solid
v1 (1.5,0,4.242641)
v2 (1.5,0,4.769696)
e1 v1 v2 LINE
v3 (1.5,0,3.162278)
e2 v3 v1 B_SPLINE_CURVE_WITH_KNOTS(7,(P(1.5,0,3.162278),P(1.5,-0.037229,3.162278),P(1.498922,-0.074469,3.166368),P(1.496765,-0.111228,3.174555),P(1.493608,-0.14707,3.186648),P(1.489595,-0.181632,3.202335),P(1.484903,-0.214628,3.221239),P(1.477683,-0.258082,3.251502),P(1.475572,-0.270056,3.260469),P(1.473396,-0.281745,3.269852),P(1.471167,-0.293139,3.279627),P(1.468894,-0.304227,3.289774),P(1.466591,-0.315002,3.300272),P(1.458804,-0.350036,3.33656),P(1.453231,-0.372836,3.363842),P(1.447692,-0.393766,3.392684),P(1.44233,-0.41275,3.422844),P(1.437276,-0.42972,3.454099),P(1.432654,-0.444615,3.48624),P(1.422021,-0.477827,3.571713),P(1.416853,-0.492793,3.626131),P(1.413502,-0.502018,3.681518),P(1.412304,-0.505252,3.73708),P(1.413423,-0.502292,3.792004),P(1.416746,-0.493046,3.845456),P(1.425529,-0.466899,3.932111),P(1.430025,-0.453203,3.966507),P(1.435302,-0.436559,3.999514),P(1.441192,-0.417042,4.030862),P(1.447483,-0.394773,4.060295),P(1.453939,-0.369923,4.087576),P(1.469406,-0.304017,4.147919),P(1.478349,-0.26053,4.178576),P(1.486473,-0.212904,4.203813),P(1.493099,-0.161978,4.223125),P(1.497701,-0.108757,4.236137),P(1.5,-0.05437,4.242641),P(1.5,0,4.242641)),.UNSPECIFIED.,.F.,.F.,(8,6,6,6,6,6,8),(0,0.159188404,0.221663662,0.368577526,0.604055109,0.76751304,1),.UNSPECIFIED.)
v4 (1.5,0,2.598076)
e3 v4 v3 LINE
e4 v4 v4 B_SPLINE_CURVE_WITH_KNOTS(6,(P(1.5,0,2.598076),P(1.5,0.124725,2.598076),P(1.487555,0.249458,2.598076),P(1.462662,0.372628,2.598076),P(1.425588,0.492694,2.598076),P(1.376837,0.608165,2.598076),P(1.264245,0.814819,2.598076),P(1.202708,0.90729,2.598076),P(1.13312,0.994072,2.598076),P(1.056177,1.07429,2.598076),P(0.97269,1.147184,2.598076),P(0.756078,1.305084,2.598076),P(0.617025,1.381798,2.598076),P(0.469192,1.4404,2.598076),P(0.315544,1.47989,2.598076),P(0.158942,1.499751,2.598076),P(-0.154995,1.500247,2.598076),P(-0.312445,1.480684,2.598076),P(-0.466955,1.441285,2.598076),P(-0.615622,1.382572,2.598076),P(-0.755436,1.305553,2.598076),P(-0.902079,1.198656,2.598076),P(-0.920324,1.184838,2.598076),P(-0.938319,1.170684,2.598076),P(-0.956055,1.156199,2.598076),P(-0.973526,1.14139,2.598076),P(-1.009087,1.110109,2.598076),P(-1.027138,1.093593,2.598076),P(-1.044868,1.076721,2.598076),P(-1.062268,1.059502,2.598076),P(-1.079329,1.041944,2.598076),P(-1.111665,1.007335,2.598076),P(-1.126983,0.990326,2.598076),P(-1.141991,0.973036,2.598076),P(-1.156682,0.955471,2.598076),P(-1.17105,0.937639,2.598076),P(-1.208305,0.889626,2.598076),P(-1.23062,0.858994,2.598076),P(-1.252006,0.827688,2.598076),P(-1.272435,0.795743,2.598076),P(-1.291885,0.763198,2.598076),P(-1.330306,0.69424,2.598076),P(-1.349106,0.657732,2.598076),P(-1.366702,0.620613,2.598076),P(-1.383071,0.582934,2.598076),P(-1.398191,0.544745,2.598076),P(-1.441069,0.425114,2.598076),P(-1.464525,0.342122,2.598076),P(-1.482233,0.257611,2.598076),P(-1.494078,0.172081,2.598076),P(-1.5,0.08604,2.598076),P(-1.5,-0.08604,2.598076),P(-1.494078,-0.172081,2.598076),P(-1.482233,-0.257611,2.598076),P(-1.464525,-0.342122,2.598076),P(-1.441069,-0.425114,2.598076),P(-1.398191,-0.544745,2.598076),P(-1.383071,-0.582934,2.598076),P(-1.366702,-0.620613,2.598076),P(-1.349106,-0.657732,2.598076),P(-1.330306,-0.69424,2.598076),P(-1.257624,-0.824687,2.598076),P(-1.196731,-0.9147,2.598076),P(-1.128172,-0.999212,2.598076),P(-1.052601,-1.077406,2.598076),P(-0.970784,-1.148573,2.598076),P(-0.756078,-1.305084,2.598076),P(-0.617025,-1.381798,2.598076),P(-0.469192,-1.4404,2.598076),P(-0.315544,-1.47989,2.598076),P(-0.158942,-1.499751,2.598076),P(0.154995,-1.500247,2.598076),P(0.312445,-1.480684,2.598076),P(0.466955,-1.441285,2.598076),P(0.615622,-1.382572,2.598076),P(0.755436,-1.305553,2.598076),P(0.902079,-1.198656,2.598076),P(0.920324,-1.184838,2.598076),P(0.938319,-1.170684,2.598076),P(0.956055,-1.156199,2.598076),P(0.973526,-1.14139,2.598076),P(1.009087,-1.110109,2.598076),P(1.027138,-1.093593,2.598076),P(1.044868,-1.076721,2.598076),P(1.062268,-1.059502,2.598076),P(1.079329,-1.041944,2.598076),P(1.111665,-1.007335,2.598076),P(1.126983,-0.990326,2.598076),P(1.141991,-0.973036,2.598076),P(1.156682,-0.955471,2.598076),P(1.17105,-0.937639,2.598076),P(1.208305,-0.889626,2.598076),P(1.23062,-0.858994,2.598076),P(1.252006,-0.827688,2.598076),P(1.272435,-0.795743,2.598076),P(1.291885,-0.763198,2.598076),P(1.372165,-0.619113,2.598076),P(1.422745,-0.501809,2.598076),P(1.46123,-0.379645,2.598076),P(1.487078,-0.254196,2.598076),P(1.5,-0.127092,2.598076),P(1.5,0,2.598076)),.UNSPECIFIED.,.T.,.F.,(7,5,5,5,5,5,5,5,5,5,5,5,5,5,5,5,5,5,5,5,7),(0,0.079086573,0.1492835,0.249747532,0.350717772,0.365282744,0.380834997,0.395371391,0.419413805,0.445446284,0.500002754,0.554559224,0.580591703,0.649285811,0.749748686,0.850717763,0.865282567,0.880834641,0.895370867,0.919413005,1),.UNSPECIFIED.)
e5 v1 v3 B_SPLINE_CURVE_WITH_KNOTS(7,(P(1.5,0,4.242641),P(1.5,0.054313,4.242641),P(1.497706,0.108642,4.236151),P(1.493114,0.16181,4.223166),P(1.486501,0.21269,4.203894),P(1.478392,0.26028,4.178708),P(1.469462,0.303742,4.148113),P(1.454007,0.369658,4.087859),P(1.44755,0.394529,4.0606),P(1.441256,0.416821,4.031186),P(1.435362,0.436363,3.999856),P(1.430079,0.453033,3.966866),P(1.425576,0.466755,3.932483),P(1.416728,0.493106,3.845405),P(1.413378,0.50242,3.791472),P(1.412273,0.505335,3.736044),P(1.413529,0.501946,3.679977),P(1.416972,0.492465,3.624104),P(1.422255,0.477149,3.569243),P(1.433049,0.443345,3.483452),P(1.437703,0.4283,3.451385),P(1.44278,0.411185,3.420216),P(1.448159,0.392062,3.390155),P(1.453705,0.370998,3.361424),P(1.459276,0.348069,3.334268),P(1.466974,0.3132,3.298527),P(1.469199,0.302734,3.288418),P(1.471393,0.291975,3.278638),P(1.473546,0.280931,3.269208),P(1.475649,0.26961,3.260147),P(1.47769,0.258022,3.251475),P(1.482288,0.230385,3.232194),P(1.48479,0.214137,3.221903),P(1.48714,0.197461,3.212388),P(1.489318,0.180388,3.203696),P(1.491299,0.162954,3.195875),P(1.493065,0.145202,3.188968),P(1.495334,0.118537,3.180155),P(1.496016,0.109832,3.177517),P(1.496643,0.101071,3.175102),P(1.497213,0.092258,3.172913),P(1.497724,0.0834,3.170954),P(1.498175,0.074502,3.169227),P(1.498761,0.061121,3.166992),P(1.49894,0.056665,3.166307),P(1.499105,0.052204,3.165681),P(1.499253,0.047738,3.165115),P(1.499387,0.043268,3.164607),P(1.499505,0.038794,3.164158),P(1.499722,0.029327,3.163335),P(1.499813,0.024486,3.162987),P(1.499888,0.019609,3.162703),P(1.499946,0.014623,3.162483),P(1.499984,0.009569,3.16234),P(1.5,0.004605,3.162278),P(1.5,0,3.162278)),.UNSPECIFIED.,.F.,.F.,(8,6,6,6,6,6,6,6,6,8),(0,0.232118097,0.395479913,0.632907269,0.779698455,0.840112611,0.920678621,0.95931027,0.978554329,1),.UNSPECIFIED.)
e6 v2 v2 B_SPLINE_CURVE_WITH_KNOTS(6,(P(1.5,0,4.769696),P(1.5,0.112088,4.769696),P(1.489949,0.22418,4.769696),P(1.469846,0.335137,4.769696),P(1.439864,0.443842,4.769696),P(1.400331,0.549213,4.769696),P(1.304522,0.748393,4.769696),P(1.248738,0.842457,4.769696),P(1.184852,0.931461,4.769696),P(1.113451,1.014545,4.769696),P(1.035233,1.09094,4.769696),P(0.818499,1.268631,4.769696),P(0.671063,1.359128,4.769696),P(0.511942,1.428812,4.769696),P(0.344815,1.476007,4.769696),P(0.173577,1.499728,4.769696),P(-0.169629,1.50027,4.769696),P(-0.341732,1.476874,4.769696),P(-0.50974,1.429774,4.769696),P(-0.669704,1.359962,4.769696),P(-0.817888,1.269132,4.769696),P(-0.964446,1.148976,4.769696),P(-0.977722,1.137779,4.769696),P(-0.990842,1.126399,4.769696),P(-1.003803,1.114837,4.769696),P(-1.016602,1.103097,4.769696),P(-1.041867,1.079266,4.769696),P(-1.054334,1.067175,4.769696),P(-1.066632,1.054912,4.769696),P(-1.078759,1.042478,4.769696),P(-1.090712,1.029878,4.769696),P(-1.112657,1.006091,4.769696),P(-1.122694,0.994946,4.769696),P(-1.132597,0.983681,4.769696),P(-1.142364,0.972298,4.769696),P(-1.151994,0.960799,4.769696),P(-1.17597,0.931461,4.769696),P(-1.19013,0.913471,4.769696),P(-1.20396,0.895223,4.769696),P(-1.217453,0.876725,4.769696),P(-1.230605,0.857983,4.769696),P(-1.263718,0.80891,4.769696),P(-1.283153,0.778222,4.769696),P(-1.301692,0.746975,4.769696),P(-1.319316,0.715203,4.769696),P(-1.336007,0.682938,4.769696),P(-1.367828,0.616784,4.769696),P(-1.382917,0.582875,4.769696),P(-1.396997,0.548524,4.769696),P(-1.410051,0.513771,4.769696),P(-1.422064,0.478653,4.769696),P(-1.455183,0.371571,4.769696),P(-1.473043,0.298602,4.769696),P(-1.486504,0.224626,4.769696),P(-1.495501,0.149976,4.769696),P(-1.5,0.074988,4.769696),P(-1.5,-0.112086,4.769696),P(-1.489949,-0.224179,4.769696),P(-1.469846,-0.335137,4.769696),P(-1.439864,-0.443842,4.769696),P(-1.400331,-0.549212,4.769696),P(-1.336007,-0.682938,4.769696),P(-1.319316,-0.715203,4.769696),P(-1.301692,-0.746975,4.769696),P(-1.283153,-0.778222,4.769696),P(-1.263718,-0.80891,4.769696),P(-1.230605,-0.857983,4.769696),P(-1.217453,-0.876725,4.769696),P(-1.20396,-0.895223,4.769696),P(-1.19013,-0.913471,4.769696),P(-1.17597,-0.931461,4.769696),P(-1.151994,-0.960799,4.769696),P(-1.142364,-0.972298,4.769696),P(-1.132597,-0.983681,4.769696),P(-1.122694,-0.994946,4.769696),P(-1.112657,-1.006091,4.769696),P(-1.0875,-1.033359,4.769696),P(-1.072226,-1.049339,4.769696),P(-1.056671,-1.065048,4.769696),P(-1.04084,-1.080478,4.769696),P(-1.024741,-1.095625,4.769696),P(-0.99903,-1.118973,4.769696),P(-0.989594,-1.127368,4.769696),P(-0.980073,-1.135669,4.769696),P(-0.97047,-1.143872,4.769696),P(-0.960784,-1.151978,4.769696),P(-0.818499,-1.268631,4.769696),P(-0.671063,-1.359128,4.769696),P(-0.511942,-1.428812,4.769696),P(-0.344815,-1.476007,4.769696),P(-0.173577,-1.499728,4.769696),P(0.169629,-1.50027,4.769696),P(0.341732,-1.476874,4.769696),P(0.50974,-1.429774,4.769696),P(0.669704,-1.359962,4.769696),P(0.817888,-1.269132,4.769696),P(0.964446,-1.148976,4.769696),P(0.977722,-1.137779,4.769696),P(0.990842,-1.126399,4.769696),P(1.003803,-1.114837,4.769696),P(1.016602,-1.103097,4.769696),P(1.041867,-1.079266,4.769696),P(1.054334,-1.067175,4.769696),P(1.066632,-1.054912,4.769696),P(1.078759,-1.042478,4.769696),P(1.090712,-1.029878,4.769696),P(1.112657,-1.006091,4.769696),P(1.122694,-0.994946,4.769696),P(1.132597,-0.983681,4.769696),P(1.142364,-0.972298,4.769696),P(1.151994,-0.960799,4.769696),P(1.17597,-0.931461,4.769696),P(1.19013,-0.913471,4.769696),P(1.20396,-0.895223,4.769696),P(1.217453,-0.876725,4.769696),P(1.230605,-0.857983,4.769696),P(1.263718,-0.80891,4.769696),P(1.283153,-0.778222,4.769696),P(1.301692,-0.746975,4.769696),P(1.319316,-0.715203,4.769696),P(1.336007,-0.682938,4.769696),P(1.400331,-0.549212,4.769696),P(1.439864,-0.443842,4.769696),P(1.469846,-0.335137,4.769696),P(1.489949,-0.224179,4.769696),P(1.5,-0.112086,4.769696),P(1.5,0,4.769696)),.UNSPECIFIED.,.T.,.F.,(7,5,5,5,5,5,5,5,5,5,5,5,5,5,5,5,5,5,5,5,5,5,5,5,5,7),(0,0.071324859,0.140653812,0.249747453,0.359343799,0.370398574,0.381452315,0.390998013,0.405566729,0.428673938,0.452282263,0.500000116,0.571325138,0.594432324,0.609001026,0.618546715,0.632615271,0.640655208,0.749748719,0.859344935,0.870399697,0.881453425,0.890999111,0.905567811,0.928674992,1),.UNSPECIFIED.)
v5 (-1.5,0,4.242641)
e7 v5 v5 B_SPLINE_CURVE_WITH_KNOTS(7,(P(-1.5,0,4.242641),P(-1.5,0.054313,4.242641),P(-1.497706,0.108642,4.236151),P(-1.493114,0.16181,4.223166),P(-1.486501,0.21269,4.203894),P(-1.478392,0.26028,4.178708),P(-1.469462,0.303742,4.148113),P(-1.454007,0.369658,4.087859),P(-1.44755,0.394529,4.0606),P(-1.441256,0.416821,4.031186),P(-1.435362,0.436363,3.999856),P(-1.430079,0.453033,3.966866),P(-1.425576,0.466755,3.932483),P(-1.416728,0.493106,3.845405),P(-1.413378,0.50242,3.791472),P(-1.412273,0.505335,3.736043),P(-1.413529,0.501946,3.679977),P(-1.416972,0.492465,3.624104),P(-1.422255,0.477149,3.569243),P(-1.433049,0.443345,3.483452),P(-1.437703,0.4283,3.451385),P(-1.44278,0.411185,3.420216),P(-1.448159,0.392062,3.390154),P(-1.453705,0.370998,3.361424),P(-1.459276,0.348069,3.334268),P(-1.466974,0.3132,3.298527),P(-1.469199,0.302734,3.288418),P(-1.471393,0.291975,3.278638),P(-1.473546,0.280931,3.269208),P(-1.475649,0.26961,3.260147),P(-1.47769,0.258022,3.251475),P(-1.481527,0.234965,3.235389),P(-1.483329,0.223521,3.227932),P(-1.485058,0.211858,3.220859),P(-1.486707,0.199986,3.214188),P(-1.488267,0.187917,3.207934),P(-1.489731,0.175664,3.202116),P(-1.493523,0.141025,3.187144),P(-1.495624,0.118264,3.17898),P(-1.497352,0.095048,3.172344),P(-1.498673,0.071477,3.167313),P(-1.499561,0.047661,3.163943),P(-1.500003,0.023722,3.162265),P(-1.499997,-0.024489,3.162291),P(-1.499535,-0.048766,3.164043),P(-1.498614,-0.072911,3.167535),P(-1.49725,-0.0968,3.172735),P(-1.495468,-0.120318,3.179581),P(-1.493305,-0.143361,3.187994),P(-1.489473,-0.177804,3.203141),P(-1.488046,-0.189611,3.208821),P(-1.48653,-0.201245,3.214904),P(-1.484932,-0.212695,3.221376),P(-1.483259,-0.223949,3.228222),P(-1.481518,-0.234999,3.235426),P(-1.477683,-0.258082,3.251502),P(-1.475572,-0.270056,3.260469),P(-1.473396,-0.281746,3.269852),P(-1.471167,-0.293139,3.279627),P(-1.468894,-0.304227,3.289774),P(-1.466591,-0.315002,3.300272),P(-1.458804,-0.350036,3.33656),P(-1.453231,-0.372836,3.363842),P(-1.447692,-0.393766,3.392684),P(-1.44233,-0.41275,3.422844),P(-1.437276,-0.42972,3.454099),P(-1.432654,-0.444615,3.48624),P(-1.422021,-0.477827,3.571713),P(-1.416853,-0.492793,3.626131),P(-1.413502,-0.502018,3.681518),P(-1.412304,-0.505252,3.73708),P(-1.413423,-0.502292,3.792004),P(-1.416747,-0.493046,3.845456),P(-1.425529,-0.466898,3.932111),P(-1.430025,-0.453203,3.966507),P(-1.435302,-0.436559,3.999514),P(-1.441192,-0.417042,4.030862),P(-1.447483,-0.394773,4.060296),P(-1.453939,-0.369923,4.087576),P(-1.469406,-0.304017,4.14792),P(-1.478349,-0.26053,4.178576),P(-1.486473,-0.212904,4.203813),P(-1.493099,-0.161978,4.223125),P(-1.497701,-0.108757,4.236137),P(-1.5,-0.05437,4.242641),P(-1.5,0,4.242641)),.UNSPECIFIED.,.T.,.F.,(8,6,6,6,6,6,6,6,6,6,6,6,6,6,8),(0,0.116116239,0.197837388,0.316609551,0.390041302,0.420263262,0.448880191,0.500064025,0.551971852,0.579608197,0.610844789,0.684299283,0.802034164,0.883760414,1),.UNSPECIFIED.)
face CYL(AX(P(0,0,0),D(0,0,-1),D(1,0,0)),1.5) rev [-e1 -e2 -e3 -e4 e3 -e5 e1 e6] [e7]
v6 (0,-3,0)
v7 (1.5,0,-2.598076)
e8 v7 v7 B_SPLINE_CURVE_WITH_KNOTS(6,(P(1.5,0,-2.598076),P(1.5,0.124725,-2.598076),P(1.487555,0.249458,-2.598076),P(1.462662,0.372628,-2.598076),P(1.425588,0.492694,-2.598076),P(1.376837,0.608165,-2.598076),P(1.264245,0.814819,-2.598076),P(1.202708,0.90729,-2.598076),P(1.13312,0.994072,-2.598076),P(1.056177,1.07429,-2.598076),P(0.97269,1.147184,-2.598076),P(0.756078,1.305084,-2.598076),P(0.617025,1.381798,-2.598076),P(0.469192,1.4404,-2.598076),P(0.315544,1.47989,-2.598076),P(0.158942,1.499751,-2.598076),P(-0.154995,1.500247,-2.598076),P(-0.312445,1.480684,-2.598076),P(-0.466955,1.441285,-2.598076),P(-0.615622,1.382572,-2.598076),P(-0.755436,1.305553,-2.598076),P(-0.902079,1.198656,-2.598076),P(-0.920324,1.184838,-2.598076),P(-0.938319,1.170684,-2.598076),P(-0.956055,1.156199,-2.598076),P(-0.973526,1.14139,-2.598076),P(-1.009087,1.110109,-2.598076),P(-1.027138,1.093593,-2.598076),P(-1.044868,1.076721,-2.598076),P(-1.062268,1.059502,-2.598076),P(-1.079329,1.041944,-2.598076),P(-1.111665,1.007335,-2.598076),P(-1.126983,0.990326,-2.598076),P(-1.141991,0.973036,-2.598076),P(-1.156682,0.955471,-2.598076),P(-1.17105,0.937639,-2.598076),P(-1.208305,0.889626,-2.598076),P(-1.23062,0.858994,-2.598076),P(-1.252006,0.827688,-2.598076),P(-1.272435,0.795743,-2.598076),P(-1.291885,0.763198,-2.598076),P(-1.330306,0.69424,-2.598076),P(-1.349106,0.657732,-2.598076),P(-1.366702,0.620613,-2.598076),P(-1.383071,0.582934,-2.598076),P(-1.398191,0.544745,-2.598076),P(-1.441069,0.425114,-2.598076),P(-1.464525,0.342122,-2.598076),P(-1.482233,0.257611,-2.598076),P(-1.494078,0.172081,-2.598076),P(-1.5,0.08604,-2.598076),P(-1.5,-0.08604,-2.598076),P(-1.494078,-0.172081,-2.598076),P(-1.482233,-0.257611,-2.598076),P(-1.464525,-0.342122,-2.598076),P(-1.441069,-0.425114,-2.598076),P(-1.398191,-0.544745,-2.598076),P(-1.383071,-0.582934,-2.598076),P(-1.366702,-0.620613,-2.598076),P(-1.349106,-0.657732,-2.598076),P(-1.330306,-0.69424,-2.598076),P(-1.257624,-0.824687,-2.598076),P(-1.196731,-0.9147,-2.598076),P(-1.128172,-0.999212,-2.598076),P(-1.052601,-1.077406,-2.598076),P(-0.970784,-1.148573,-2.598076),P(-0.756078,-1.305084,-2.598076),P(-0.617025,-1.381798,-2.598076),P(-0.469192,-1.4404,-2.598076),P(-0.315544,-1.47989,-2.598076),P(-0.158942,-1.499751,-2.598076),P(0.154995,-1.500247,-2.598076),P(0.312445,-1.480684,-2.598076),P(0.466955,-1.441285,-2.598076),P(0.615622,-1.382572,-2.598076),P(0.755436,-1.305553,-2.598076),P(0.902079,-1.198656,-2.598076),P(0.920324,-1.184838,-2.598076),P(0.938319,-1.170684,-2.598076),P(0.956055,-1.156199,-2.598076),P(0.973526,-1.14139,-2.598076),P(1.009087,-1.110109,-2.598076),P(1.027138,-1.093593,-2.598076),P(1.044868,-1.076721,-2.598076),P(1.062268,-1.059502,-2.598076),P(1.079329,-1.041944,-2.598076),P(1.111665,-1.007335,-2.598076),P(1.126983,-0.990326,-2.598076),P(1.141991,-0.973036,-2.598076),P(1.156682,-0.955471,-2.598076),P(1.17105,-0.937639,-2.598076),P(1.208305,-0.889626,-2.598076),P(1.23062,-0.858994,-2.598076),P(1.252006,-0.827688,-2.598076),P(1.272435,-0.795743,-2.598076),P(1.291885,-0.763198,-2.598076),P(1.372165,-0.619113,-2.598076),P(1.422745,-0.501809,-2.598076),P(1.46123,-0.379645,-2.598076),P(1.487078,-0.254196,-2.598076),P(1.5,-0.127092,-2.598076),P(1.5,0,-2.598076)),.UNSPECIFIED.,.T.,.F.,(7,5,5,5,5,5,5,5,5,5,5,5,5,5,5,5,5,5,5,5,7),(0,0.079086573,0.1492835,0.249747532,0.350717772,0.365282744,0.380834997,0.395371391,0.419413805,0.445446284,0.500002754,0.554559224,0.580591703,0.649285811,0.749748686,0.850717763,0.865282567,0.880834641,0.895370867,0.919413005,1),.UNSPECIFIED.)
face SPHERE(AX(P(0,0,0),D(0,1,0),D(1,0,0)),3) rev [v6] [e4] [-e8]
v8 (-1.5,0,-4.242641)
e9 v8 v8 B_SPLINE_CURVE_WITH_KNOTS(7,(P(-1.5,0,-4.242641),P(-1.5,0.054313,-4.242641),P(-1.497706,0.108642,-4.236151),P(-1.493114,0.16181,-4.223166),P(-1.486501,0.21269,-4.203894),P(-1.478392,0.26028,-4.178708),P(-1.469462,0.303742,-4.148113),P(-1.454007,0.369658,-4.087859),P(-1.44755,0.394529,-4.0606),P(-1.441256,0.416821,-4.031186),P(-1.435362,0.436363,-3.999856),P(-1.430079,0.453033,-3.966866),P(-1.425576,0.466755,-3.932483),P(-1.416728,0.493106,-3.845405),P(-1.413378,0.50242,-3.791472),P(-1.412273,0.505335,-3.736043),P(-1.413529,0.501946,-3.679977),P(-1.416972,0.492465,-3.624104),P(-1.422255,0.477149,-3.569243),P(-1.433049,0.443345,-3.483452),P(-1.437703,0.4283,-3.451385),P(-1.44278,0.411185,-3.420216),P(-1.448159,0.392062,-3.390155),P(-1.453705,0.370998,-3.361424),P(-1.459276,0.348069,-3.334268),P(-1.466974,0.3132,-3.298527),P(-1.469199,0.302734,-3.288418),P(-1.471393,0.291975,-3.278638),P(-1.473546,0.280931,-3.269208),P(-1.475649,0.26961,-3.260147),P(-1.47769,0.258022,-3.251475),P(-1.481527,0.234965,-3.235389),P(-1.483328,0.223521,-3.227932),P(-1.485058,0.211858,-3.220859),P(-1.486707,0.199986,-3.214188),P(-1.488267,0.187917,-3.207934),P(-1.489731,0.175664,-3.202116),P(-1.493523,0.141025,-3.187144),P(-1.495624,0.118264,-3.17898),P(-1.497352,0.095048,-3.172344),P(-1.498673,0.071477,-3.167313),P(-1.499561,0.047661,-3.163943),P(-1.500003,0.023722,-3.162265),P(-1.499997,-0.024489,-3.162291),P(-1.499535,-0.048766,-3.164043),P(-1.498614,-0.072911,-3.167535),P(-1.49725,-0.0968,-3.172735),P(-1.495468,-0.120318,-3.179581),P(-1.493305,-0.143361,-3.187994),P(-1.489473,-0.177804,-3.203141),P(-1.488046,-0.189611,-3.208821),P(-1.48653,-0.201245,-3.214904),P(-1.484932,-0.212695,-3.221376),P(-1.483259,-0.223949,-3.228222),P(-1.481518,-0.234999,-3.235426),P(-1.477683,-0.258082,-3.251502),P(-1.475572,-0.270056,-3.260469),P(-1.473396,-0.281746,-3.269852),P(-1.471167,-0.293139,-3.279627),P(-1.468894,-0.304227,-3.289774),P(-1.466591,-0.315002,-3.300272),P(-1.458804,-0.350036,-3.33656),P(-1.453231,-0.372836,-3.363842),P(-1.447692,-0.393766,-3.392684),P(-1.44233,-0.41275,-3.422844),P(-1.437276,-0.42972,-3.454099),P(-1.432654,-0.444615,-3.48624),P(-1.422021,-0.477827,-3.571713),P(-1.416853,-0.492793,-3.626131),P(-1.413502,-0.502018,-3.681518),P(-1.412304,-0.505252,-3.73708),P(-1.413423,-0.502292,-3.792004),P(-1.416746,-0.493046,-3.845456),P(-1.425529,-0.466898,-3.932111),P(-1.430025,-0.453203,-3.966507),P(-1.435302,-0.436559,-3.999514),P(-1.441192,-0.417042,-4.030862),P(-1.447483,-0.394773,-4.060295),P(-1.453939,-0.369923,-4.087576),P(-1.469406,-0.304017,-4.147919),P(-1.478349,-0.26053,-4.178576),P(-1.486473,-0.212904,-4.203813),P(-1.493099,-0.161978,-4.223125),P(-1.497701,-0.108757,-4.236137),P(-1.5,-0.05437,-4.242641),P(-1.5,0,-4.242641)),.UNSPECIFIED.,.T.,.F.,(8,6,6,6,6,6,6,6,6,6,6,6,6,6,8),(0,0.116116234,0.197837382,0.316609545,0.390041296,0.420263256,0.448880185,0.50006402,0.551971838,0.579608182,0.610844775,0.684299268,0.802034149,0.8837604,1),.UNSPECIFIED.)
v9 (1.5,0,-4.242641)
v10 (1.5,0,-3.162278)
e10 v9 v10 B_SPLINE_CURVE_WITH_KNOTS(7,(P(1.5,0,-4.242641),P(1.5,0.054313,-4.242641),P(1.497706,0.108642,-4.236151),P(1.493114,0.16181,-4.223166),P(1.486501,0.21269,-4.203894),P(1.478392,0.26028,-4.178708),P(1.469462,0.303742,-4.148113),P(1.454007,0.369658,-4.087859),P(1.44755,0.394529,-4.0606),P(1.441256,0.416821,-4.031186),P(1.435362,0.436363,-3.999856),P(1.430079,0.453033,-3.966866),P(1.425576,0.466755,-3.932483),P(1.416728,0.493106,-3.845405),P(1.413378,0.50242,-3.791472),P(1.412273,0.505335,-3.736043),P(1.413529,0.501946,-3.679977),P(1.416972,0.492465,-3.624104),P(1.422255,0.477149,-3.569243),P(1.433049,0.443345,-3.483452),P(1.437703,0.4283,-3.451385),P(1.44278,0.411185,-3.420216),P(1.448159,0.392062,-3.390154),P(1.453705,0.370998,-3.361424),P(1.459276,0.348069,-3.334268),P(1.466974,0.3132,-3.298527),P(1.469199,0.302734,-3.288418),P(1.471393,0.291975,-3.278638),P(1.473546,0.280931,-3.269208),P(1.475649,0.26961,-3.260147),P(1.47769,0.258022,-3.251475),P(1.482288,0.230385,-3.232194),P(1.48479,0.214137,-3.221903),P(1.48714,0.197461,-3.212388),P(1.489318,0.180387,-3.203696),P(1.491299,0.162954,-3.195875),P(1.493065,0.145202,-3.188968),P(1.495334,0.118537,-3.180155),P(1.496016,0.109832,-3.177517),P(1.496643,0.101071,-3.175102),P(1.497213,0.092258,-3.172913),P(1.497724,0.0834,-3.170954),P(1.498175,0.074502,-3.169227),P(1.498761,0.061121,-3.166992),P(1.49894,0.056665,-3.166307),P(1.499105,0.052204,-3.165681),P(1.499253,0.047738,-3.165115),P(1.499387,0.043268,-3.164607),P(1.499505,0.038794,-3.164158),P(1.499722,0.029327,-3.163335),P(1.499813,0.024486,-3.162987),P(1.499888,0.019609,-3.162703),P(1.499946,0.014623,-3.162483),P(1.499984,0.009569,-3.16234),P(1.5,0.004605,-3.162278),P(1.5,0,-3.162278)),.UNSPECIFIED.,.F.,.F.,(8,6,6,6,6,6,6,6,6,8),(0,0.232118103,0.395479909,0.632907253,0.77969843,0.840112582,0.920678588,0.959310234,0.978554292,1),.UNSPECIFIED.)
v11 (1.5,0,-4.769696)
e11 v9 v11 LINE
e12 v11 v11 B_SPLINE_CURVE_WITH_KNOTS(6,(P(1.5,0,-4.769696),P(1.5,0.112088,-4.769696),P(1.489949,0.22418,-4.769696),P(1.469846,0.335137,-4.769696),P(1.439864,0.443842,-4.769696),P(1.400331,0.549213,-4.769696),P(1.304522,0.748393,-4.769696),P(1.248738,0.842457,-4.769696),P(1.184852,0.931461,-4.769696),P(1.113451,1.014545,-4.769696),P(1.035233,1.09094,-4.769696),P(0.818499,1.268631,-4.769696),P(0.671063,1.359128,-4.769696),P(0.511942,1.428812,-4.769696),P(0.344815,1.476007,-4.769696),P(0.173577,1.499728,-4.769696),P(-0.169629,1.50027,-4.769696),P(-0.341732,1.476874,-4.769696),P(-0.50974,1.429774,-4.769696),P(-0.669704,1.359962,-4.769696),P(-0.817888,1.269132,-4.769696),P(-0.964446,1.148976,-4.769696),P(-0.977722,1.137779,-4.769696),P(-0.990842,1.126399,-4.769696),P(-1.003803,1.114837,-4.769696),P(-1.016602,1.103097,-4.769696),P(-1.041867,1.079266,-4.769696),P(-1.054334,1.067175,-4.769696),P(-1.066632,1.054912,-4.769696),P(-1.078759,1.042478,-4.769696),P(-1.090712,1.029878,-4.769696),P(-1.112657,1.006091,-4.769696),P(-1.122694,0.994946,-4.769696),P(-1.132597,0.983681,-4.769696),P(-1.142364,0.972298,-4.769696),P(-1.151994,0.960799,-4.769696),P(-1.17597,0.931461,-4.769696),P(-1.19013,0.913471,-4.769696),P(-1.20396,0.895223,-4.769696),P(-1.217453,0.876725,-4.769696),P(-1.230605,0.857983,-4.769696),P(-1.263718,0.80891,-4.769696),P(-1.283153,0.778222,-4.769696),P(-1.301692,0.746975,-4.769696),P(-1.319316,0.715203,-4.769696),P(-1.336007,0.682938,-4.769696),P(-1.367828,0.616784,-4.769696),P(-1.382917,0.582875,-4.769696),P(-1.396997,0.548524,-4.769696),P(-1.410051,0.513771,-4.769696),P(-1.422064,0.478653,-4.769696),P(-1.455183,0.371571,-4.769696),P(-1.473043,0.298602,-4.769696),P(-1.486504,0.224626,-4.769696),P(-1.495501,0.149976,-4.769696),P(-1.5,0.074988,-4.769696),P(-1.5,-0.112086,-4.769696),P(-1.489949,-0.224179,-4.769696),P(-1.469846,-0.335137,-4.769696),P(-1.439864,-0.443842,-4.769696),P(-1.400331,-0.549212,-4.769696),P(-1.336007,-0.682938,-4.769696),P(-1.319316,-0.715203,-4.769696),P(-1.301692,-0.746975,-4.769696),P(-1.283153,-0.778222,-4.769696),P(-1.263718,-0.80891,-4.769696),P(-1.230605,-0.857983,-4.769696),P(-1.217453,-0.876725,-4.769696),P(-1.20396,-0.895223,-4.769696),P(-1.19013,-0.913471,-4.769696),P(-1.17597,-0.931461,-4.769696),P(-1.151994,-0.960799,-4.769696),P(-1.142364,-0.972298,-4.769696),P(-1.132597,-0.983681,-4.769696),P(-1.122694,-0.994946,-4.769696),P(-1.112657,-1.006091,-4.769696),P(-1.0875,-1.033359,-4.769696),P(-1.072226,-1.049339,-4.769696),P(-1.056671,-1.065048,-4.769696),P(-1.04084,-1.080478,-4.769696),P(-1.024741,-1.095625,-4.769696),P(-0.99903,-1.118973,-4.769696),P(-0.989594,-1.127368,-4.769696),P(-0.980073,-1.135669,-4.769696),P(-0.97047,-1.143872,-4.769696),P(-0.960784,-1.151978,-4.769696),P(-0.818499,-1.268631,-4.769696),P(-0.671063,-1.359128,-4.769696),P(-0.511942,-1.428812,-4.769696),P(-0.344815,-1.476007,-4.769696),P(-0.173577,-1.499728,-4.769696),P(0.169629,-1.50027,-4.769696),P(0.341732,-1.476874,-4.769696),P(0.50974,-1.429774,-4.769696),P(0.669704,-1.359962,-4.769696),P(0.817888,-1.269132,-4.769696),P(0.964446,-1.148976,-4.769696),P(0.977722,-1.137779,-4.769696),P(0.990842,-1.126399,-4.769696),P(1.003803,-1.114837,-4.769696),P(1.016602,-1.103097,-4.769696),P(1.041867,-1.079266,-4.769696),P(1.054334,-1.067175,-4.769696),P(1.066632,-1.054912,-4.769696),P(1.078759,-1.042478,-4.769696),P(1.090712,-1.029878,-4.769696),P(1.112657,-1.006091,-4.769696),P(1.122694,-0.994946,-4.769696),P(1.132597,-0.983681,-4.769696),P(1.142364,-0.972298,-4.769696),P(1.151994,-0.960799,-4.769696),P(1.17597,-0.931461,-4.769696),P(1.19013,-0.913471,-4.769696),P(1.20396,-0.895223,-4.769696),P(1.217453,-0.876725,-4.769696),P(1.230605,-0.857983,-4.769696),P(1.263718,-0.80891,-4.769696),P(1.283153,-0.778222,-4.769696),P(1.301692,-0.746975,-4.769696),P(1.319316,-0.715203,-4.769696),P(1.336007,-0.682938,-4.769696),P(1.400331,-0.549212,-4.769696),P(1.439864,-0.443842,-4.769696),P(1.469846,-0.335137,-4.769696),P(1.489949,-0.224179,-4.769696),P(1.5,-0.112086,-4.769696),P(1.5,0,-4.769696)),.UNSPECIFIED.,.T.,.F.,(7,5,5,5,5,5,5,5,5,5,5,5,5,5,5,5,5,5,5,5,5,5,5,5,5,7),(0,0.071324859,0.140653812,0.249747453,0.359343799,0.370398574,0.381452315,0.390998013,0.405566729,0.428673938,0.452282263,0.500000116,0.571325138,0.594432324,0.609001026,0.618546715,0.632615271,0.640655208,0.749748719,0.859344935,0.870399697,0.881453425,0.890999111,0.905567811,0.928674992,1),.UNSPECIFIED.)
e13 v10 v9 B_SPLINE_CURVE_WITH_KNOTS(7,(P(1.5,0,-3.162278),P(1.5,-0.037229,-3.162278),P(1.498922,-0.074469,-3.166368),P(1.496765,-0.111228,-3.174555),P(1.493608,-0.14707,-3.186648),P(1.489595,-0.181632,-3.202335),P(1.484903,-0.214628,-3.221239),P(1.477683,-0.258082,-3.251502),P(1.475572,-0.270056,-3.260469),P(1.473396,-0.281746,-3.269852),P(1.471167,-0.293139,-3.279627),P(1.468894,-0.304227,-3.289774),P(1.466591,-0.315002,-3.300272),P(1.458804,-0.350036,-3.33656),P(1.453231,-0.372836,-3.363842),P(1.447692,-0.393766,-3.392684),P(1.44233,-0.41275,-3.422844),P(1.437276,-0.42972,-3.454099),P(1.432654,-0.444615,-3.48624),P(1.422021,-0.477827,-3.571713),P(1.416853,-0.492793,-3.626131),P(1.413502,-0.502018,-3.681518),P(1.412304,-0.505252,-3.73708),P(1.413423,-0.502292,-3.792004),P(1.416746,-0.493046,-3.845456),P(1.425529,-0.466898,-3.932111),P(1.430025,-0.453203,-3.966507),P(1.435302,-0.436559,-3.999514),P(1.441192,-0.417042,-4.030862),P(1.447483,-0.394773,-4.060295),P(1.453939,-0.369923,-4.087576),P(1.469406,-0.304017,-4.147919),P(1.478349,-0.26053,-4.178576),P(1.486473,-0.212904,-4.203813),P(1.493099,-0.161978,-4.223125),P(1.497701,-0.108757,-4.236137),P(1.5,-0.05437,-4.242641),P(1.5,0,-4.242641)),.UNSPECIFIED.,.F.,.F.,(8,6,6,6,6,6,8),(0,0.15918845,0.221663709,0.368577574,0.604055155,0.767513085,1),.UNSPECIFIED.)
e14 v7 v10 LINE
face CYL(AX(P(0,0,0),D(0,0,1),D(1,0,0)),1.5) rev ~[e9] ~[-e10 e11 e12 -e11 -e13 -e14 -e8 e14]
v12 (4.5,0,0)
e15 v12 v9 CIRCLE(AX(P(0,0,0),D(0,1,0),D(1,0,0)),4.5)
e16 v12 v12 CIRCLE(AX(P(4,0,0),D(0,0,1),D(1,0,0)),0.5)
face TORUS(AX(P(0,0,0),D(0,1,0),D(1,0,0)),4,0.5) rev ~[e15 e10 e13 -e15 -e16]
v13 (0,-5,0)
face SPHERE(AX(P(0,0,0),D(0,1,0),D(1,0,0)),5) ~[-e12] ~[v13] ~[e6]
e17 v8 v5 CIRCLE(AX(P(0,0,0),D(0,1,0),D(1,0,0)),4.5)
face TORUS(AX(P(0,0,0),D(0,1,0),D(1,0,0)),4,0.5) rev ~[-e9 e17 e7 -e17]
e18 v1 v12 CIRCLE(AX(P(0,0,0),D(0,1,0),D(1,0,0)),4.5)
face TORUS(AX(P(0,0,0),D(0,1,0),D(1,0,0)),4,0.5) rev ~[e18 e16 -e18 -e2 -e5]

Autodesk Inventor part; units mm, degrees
ref_plane "YZ Plane" through (0, 0, 0) normal (1, 0, 0) x (0, 1, 0)
ref_plane "XZ Plane" through (0, 0, 0) normal (0, 1, 0) x (-1, 0, 0)
ref_plane "XY Plane" through (0, 0, 0) normal (0, 0, 1) x (1, 0, 0)
sketch "Esboço1" plane through (0, 0, 0) normal (0, 0, 1) x (1, 0, 0)
  circle A0 centre (0, 0) radius 5 construction
  arc A1 (0, -5) -> (0, 5) centre (0, 0) ccw
  arc A2 (0, -3) -> (0, 3) centre (0, 0) ccw
  line L0 (0, 5) -> (0, -5)
  point P0 (3, 0)
  point P1 (5, 0)
  point P2 (0, 3)
  dimension "d0" = 10
  dimension "d2" = 3
revolve "Revolução1" add sketch "Esboço1" angle 360 about axis through (0, 5, 0) along (0, -1, 0) contours L0 A2 A1
sketch "Esboço2" plane through (0, 0, 0) normal (0, 0, 1) x (1, 0, 0)
  circle A0 centre (4, 0) radius 0.5
  line L0 (0, 5) -> (0, -5)
  point P0 (0, 0)
  point P1 (0, 0)
  dimension "d4" = 1
  dimension "d5" = 4
  dimension "d6" = 10
revolve "Revolução2" cut sketch "Esboço2" angle 360 about axis through (0, 5, 0) along (0, 1, 0)
sketch "Esboço4" plane through (0, 0, 0) normal (0, 0, 1) x (1, 0, 0)
  circle A0 centre (0, 0) radius 1.5
  dimension "d10" = 3
extrude "Extrusão1" cut sketch "Esboço4" along normal through all both and the other way through all
properties part number "Esfera_com_cilindro_0001_001" material "Náilon 6/6"
